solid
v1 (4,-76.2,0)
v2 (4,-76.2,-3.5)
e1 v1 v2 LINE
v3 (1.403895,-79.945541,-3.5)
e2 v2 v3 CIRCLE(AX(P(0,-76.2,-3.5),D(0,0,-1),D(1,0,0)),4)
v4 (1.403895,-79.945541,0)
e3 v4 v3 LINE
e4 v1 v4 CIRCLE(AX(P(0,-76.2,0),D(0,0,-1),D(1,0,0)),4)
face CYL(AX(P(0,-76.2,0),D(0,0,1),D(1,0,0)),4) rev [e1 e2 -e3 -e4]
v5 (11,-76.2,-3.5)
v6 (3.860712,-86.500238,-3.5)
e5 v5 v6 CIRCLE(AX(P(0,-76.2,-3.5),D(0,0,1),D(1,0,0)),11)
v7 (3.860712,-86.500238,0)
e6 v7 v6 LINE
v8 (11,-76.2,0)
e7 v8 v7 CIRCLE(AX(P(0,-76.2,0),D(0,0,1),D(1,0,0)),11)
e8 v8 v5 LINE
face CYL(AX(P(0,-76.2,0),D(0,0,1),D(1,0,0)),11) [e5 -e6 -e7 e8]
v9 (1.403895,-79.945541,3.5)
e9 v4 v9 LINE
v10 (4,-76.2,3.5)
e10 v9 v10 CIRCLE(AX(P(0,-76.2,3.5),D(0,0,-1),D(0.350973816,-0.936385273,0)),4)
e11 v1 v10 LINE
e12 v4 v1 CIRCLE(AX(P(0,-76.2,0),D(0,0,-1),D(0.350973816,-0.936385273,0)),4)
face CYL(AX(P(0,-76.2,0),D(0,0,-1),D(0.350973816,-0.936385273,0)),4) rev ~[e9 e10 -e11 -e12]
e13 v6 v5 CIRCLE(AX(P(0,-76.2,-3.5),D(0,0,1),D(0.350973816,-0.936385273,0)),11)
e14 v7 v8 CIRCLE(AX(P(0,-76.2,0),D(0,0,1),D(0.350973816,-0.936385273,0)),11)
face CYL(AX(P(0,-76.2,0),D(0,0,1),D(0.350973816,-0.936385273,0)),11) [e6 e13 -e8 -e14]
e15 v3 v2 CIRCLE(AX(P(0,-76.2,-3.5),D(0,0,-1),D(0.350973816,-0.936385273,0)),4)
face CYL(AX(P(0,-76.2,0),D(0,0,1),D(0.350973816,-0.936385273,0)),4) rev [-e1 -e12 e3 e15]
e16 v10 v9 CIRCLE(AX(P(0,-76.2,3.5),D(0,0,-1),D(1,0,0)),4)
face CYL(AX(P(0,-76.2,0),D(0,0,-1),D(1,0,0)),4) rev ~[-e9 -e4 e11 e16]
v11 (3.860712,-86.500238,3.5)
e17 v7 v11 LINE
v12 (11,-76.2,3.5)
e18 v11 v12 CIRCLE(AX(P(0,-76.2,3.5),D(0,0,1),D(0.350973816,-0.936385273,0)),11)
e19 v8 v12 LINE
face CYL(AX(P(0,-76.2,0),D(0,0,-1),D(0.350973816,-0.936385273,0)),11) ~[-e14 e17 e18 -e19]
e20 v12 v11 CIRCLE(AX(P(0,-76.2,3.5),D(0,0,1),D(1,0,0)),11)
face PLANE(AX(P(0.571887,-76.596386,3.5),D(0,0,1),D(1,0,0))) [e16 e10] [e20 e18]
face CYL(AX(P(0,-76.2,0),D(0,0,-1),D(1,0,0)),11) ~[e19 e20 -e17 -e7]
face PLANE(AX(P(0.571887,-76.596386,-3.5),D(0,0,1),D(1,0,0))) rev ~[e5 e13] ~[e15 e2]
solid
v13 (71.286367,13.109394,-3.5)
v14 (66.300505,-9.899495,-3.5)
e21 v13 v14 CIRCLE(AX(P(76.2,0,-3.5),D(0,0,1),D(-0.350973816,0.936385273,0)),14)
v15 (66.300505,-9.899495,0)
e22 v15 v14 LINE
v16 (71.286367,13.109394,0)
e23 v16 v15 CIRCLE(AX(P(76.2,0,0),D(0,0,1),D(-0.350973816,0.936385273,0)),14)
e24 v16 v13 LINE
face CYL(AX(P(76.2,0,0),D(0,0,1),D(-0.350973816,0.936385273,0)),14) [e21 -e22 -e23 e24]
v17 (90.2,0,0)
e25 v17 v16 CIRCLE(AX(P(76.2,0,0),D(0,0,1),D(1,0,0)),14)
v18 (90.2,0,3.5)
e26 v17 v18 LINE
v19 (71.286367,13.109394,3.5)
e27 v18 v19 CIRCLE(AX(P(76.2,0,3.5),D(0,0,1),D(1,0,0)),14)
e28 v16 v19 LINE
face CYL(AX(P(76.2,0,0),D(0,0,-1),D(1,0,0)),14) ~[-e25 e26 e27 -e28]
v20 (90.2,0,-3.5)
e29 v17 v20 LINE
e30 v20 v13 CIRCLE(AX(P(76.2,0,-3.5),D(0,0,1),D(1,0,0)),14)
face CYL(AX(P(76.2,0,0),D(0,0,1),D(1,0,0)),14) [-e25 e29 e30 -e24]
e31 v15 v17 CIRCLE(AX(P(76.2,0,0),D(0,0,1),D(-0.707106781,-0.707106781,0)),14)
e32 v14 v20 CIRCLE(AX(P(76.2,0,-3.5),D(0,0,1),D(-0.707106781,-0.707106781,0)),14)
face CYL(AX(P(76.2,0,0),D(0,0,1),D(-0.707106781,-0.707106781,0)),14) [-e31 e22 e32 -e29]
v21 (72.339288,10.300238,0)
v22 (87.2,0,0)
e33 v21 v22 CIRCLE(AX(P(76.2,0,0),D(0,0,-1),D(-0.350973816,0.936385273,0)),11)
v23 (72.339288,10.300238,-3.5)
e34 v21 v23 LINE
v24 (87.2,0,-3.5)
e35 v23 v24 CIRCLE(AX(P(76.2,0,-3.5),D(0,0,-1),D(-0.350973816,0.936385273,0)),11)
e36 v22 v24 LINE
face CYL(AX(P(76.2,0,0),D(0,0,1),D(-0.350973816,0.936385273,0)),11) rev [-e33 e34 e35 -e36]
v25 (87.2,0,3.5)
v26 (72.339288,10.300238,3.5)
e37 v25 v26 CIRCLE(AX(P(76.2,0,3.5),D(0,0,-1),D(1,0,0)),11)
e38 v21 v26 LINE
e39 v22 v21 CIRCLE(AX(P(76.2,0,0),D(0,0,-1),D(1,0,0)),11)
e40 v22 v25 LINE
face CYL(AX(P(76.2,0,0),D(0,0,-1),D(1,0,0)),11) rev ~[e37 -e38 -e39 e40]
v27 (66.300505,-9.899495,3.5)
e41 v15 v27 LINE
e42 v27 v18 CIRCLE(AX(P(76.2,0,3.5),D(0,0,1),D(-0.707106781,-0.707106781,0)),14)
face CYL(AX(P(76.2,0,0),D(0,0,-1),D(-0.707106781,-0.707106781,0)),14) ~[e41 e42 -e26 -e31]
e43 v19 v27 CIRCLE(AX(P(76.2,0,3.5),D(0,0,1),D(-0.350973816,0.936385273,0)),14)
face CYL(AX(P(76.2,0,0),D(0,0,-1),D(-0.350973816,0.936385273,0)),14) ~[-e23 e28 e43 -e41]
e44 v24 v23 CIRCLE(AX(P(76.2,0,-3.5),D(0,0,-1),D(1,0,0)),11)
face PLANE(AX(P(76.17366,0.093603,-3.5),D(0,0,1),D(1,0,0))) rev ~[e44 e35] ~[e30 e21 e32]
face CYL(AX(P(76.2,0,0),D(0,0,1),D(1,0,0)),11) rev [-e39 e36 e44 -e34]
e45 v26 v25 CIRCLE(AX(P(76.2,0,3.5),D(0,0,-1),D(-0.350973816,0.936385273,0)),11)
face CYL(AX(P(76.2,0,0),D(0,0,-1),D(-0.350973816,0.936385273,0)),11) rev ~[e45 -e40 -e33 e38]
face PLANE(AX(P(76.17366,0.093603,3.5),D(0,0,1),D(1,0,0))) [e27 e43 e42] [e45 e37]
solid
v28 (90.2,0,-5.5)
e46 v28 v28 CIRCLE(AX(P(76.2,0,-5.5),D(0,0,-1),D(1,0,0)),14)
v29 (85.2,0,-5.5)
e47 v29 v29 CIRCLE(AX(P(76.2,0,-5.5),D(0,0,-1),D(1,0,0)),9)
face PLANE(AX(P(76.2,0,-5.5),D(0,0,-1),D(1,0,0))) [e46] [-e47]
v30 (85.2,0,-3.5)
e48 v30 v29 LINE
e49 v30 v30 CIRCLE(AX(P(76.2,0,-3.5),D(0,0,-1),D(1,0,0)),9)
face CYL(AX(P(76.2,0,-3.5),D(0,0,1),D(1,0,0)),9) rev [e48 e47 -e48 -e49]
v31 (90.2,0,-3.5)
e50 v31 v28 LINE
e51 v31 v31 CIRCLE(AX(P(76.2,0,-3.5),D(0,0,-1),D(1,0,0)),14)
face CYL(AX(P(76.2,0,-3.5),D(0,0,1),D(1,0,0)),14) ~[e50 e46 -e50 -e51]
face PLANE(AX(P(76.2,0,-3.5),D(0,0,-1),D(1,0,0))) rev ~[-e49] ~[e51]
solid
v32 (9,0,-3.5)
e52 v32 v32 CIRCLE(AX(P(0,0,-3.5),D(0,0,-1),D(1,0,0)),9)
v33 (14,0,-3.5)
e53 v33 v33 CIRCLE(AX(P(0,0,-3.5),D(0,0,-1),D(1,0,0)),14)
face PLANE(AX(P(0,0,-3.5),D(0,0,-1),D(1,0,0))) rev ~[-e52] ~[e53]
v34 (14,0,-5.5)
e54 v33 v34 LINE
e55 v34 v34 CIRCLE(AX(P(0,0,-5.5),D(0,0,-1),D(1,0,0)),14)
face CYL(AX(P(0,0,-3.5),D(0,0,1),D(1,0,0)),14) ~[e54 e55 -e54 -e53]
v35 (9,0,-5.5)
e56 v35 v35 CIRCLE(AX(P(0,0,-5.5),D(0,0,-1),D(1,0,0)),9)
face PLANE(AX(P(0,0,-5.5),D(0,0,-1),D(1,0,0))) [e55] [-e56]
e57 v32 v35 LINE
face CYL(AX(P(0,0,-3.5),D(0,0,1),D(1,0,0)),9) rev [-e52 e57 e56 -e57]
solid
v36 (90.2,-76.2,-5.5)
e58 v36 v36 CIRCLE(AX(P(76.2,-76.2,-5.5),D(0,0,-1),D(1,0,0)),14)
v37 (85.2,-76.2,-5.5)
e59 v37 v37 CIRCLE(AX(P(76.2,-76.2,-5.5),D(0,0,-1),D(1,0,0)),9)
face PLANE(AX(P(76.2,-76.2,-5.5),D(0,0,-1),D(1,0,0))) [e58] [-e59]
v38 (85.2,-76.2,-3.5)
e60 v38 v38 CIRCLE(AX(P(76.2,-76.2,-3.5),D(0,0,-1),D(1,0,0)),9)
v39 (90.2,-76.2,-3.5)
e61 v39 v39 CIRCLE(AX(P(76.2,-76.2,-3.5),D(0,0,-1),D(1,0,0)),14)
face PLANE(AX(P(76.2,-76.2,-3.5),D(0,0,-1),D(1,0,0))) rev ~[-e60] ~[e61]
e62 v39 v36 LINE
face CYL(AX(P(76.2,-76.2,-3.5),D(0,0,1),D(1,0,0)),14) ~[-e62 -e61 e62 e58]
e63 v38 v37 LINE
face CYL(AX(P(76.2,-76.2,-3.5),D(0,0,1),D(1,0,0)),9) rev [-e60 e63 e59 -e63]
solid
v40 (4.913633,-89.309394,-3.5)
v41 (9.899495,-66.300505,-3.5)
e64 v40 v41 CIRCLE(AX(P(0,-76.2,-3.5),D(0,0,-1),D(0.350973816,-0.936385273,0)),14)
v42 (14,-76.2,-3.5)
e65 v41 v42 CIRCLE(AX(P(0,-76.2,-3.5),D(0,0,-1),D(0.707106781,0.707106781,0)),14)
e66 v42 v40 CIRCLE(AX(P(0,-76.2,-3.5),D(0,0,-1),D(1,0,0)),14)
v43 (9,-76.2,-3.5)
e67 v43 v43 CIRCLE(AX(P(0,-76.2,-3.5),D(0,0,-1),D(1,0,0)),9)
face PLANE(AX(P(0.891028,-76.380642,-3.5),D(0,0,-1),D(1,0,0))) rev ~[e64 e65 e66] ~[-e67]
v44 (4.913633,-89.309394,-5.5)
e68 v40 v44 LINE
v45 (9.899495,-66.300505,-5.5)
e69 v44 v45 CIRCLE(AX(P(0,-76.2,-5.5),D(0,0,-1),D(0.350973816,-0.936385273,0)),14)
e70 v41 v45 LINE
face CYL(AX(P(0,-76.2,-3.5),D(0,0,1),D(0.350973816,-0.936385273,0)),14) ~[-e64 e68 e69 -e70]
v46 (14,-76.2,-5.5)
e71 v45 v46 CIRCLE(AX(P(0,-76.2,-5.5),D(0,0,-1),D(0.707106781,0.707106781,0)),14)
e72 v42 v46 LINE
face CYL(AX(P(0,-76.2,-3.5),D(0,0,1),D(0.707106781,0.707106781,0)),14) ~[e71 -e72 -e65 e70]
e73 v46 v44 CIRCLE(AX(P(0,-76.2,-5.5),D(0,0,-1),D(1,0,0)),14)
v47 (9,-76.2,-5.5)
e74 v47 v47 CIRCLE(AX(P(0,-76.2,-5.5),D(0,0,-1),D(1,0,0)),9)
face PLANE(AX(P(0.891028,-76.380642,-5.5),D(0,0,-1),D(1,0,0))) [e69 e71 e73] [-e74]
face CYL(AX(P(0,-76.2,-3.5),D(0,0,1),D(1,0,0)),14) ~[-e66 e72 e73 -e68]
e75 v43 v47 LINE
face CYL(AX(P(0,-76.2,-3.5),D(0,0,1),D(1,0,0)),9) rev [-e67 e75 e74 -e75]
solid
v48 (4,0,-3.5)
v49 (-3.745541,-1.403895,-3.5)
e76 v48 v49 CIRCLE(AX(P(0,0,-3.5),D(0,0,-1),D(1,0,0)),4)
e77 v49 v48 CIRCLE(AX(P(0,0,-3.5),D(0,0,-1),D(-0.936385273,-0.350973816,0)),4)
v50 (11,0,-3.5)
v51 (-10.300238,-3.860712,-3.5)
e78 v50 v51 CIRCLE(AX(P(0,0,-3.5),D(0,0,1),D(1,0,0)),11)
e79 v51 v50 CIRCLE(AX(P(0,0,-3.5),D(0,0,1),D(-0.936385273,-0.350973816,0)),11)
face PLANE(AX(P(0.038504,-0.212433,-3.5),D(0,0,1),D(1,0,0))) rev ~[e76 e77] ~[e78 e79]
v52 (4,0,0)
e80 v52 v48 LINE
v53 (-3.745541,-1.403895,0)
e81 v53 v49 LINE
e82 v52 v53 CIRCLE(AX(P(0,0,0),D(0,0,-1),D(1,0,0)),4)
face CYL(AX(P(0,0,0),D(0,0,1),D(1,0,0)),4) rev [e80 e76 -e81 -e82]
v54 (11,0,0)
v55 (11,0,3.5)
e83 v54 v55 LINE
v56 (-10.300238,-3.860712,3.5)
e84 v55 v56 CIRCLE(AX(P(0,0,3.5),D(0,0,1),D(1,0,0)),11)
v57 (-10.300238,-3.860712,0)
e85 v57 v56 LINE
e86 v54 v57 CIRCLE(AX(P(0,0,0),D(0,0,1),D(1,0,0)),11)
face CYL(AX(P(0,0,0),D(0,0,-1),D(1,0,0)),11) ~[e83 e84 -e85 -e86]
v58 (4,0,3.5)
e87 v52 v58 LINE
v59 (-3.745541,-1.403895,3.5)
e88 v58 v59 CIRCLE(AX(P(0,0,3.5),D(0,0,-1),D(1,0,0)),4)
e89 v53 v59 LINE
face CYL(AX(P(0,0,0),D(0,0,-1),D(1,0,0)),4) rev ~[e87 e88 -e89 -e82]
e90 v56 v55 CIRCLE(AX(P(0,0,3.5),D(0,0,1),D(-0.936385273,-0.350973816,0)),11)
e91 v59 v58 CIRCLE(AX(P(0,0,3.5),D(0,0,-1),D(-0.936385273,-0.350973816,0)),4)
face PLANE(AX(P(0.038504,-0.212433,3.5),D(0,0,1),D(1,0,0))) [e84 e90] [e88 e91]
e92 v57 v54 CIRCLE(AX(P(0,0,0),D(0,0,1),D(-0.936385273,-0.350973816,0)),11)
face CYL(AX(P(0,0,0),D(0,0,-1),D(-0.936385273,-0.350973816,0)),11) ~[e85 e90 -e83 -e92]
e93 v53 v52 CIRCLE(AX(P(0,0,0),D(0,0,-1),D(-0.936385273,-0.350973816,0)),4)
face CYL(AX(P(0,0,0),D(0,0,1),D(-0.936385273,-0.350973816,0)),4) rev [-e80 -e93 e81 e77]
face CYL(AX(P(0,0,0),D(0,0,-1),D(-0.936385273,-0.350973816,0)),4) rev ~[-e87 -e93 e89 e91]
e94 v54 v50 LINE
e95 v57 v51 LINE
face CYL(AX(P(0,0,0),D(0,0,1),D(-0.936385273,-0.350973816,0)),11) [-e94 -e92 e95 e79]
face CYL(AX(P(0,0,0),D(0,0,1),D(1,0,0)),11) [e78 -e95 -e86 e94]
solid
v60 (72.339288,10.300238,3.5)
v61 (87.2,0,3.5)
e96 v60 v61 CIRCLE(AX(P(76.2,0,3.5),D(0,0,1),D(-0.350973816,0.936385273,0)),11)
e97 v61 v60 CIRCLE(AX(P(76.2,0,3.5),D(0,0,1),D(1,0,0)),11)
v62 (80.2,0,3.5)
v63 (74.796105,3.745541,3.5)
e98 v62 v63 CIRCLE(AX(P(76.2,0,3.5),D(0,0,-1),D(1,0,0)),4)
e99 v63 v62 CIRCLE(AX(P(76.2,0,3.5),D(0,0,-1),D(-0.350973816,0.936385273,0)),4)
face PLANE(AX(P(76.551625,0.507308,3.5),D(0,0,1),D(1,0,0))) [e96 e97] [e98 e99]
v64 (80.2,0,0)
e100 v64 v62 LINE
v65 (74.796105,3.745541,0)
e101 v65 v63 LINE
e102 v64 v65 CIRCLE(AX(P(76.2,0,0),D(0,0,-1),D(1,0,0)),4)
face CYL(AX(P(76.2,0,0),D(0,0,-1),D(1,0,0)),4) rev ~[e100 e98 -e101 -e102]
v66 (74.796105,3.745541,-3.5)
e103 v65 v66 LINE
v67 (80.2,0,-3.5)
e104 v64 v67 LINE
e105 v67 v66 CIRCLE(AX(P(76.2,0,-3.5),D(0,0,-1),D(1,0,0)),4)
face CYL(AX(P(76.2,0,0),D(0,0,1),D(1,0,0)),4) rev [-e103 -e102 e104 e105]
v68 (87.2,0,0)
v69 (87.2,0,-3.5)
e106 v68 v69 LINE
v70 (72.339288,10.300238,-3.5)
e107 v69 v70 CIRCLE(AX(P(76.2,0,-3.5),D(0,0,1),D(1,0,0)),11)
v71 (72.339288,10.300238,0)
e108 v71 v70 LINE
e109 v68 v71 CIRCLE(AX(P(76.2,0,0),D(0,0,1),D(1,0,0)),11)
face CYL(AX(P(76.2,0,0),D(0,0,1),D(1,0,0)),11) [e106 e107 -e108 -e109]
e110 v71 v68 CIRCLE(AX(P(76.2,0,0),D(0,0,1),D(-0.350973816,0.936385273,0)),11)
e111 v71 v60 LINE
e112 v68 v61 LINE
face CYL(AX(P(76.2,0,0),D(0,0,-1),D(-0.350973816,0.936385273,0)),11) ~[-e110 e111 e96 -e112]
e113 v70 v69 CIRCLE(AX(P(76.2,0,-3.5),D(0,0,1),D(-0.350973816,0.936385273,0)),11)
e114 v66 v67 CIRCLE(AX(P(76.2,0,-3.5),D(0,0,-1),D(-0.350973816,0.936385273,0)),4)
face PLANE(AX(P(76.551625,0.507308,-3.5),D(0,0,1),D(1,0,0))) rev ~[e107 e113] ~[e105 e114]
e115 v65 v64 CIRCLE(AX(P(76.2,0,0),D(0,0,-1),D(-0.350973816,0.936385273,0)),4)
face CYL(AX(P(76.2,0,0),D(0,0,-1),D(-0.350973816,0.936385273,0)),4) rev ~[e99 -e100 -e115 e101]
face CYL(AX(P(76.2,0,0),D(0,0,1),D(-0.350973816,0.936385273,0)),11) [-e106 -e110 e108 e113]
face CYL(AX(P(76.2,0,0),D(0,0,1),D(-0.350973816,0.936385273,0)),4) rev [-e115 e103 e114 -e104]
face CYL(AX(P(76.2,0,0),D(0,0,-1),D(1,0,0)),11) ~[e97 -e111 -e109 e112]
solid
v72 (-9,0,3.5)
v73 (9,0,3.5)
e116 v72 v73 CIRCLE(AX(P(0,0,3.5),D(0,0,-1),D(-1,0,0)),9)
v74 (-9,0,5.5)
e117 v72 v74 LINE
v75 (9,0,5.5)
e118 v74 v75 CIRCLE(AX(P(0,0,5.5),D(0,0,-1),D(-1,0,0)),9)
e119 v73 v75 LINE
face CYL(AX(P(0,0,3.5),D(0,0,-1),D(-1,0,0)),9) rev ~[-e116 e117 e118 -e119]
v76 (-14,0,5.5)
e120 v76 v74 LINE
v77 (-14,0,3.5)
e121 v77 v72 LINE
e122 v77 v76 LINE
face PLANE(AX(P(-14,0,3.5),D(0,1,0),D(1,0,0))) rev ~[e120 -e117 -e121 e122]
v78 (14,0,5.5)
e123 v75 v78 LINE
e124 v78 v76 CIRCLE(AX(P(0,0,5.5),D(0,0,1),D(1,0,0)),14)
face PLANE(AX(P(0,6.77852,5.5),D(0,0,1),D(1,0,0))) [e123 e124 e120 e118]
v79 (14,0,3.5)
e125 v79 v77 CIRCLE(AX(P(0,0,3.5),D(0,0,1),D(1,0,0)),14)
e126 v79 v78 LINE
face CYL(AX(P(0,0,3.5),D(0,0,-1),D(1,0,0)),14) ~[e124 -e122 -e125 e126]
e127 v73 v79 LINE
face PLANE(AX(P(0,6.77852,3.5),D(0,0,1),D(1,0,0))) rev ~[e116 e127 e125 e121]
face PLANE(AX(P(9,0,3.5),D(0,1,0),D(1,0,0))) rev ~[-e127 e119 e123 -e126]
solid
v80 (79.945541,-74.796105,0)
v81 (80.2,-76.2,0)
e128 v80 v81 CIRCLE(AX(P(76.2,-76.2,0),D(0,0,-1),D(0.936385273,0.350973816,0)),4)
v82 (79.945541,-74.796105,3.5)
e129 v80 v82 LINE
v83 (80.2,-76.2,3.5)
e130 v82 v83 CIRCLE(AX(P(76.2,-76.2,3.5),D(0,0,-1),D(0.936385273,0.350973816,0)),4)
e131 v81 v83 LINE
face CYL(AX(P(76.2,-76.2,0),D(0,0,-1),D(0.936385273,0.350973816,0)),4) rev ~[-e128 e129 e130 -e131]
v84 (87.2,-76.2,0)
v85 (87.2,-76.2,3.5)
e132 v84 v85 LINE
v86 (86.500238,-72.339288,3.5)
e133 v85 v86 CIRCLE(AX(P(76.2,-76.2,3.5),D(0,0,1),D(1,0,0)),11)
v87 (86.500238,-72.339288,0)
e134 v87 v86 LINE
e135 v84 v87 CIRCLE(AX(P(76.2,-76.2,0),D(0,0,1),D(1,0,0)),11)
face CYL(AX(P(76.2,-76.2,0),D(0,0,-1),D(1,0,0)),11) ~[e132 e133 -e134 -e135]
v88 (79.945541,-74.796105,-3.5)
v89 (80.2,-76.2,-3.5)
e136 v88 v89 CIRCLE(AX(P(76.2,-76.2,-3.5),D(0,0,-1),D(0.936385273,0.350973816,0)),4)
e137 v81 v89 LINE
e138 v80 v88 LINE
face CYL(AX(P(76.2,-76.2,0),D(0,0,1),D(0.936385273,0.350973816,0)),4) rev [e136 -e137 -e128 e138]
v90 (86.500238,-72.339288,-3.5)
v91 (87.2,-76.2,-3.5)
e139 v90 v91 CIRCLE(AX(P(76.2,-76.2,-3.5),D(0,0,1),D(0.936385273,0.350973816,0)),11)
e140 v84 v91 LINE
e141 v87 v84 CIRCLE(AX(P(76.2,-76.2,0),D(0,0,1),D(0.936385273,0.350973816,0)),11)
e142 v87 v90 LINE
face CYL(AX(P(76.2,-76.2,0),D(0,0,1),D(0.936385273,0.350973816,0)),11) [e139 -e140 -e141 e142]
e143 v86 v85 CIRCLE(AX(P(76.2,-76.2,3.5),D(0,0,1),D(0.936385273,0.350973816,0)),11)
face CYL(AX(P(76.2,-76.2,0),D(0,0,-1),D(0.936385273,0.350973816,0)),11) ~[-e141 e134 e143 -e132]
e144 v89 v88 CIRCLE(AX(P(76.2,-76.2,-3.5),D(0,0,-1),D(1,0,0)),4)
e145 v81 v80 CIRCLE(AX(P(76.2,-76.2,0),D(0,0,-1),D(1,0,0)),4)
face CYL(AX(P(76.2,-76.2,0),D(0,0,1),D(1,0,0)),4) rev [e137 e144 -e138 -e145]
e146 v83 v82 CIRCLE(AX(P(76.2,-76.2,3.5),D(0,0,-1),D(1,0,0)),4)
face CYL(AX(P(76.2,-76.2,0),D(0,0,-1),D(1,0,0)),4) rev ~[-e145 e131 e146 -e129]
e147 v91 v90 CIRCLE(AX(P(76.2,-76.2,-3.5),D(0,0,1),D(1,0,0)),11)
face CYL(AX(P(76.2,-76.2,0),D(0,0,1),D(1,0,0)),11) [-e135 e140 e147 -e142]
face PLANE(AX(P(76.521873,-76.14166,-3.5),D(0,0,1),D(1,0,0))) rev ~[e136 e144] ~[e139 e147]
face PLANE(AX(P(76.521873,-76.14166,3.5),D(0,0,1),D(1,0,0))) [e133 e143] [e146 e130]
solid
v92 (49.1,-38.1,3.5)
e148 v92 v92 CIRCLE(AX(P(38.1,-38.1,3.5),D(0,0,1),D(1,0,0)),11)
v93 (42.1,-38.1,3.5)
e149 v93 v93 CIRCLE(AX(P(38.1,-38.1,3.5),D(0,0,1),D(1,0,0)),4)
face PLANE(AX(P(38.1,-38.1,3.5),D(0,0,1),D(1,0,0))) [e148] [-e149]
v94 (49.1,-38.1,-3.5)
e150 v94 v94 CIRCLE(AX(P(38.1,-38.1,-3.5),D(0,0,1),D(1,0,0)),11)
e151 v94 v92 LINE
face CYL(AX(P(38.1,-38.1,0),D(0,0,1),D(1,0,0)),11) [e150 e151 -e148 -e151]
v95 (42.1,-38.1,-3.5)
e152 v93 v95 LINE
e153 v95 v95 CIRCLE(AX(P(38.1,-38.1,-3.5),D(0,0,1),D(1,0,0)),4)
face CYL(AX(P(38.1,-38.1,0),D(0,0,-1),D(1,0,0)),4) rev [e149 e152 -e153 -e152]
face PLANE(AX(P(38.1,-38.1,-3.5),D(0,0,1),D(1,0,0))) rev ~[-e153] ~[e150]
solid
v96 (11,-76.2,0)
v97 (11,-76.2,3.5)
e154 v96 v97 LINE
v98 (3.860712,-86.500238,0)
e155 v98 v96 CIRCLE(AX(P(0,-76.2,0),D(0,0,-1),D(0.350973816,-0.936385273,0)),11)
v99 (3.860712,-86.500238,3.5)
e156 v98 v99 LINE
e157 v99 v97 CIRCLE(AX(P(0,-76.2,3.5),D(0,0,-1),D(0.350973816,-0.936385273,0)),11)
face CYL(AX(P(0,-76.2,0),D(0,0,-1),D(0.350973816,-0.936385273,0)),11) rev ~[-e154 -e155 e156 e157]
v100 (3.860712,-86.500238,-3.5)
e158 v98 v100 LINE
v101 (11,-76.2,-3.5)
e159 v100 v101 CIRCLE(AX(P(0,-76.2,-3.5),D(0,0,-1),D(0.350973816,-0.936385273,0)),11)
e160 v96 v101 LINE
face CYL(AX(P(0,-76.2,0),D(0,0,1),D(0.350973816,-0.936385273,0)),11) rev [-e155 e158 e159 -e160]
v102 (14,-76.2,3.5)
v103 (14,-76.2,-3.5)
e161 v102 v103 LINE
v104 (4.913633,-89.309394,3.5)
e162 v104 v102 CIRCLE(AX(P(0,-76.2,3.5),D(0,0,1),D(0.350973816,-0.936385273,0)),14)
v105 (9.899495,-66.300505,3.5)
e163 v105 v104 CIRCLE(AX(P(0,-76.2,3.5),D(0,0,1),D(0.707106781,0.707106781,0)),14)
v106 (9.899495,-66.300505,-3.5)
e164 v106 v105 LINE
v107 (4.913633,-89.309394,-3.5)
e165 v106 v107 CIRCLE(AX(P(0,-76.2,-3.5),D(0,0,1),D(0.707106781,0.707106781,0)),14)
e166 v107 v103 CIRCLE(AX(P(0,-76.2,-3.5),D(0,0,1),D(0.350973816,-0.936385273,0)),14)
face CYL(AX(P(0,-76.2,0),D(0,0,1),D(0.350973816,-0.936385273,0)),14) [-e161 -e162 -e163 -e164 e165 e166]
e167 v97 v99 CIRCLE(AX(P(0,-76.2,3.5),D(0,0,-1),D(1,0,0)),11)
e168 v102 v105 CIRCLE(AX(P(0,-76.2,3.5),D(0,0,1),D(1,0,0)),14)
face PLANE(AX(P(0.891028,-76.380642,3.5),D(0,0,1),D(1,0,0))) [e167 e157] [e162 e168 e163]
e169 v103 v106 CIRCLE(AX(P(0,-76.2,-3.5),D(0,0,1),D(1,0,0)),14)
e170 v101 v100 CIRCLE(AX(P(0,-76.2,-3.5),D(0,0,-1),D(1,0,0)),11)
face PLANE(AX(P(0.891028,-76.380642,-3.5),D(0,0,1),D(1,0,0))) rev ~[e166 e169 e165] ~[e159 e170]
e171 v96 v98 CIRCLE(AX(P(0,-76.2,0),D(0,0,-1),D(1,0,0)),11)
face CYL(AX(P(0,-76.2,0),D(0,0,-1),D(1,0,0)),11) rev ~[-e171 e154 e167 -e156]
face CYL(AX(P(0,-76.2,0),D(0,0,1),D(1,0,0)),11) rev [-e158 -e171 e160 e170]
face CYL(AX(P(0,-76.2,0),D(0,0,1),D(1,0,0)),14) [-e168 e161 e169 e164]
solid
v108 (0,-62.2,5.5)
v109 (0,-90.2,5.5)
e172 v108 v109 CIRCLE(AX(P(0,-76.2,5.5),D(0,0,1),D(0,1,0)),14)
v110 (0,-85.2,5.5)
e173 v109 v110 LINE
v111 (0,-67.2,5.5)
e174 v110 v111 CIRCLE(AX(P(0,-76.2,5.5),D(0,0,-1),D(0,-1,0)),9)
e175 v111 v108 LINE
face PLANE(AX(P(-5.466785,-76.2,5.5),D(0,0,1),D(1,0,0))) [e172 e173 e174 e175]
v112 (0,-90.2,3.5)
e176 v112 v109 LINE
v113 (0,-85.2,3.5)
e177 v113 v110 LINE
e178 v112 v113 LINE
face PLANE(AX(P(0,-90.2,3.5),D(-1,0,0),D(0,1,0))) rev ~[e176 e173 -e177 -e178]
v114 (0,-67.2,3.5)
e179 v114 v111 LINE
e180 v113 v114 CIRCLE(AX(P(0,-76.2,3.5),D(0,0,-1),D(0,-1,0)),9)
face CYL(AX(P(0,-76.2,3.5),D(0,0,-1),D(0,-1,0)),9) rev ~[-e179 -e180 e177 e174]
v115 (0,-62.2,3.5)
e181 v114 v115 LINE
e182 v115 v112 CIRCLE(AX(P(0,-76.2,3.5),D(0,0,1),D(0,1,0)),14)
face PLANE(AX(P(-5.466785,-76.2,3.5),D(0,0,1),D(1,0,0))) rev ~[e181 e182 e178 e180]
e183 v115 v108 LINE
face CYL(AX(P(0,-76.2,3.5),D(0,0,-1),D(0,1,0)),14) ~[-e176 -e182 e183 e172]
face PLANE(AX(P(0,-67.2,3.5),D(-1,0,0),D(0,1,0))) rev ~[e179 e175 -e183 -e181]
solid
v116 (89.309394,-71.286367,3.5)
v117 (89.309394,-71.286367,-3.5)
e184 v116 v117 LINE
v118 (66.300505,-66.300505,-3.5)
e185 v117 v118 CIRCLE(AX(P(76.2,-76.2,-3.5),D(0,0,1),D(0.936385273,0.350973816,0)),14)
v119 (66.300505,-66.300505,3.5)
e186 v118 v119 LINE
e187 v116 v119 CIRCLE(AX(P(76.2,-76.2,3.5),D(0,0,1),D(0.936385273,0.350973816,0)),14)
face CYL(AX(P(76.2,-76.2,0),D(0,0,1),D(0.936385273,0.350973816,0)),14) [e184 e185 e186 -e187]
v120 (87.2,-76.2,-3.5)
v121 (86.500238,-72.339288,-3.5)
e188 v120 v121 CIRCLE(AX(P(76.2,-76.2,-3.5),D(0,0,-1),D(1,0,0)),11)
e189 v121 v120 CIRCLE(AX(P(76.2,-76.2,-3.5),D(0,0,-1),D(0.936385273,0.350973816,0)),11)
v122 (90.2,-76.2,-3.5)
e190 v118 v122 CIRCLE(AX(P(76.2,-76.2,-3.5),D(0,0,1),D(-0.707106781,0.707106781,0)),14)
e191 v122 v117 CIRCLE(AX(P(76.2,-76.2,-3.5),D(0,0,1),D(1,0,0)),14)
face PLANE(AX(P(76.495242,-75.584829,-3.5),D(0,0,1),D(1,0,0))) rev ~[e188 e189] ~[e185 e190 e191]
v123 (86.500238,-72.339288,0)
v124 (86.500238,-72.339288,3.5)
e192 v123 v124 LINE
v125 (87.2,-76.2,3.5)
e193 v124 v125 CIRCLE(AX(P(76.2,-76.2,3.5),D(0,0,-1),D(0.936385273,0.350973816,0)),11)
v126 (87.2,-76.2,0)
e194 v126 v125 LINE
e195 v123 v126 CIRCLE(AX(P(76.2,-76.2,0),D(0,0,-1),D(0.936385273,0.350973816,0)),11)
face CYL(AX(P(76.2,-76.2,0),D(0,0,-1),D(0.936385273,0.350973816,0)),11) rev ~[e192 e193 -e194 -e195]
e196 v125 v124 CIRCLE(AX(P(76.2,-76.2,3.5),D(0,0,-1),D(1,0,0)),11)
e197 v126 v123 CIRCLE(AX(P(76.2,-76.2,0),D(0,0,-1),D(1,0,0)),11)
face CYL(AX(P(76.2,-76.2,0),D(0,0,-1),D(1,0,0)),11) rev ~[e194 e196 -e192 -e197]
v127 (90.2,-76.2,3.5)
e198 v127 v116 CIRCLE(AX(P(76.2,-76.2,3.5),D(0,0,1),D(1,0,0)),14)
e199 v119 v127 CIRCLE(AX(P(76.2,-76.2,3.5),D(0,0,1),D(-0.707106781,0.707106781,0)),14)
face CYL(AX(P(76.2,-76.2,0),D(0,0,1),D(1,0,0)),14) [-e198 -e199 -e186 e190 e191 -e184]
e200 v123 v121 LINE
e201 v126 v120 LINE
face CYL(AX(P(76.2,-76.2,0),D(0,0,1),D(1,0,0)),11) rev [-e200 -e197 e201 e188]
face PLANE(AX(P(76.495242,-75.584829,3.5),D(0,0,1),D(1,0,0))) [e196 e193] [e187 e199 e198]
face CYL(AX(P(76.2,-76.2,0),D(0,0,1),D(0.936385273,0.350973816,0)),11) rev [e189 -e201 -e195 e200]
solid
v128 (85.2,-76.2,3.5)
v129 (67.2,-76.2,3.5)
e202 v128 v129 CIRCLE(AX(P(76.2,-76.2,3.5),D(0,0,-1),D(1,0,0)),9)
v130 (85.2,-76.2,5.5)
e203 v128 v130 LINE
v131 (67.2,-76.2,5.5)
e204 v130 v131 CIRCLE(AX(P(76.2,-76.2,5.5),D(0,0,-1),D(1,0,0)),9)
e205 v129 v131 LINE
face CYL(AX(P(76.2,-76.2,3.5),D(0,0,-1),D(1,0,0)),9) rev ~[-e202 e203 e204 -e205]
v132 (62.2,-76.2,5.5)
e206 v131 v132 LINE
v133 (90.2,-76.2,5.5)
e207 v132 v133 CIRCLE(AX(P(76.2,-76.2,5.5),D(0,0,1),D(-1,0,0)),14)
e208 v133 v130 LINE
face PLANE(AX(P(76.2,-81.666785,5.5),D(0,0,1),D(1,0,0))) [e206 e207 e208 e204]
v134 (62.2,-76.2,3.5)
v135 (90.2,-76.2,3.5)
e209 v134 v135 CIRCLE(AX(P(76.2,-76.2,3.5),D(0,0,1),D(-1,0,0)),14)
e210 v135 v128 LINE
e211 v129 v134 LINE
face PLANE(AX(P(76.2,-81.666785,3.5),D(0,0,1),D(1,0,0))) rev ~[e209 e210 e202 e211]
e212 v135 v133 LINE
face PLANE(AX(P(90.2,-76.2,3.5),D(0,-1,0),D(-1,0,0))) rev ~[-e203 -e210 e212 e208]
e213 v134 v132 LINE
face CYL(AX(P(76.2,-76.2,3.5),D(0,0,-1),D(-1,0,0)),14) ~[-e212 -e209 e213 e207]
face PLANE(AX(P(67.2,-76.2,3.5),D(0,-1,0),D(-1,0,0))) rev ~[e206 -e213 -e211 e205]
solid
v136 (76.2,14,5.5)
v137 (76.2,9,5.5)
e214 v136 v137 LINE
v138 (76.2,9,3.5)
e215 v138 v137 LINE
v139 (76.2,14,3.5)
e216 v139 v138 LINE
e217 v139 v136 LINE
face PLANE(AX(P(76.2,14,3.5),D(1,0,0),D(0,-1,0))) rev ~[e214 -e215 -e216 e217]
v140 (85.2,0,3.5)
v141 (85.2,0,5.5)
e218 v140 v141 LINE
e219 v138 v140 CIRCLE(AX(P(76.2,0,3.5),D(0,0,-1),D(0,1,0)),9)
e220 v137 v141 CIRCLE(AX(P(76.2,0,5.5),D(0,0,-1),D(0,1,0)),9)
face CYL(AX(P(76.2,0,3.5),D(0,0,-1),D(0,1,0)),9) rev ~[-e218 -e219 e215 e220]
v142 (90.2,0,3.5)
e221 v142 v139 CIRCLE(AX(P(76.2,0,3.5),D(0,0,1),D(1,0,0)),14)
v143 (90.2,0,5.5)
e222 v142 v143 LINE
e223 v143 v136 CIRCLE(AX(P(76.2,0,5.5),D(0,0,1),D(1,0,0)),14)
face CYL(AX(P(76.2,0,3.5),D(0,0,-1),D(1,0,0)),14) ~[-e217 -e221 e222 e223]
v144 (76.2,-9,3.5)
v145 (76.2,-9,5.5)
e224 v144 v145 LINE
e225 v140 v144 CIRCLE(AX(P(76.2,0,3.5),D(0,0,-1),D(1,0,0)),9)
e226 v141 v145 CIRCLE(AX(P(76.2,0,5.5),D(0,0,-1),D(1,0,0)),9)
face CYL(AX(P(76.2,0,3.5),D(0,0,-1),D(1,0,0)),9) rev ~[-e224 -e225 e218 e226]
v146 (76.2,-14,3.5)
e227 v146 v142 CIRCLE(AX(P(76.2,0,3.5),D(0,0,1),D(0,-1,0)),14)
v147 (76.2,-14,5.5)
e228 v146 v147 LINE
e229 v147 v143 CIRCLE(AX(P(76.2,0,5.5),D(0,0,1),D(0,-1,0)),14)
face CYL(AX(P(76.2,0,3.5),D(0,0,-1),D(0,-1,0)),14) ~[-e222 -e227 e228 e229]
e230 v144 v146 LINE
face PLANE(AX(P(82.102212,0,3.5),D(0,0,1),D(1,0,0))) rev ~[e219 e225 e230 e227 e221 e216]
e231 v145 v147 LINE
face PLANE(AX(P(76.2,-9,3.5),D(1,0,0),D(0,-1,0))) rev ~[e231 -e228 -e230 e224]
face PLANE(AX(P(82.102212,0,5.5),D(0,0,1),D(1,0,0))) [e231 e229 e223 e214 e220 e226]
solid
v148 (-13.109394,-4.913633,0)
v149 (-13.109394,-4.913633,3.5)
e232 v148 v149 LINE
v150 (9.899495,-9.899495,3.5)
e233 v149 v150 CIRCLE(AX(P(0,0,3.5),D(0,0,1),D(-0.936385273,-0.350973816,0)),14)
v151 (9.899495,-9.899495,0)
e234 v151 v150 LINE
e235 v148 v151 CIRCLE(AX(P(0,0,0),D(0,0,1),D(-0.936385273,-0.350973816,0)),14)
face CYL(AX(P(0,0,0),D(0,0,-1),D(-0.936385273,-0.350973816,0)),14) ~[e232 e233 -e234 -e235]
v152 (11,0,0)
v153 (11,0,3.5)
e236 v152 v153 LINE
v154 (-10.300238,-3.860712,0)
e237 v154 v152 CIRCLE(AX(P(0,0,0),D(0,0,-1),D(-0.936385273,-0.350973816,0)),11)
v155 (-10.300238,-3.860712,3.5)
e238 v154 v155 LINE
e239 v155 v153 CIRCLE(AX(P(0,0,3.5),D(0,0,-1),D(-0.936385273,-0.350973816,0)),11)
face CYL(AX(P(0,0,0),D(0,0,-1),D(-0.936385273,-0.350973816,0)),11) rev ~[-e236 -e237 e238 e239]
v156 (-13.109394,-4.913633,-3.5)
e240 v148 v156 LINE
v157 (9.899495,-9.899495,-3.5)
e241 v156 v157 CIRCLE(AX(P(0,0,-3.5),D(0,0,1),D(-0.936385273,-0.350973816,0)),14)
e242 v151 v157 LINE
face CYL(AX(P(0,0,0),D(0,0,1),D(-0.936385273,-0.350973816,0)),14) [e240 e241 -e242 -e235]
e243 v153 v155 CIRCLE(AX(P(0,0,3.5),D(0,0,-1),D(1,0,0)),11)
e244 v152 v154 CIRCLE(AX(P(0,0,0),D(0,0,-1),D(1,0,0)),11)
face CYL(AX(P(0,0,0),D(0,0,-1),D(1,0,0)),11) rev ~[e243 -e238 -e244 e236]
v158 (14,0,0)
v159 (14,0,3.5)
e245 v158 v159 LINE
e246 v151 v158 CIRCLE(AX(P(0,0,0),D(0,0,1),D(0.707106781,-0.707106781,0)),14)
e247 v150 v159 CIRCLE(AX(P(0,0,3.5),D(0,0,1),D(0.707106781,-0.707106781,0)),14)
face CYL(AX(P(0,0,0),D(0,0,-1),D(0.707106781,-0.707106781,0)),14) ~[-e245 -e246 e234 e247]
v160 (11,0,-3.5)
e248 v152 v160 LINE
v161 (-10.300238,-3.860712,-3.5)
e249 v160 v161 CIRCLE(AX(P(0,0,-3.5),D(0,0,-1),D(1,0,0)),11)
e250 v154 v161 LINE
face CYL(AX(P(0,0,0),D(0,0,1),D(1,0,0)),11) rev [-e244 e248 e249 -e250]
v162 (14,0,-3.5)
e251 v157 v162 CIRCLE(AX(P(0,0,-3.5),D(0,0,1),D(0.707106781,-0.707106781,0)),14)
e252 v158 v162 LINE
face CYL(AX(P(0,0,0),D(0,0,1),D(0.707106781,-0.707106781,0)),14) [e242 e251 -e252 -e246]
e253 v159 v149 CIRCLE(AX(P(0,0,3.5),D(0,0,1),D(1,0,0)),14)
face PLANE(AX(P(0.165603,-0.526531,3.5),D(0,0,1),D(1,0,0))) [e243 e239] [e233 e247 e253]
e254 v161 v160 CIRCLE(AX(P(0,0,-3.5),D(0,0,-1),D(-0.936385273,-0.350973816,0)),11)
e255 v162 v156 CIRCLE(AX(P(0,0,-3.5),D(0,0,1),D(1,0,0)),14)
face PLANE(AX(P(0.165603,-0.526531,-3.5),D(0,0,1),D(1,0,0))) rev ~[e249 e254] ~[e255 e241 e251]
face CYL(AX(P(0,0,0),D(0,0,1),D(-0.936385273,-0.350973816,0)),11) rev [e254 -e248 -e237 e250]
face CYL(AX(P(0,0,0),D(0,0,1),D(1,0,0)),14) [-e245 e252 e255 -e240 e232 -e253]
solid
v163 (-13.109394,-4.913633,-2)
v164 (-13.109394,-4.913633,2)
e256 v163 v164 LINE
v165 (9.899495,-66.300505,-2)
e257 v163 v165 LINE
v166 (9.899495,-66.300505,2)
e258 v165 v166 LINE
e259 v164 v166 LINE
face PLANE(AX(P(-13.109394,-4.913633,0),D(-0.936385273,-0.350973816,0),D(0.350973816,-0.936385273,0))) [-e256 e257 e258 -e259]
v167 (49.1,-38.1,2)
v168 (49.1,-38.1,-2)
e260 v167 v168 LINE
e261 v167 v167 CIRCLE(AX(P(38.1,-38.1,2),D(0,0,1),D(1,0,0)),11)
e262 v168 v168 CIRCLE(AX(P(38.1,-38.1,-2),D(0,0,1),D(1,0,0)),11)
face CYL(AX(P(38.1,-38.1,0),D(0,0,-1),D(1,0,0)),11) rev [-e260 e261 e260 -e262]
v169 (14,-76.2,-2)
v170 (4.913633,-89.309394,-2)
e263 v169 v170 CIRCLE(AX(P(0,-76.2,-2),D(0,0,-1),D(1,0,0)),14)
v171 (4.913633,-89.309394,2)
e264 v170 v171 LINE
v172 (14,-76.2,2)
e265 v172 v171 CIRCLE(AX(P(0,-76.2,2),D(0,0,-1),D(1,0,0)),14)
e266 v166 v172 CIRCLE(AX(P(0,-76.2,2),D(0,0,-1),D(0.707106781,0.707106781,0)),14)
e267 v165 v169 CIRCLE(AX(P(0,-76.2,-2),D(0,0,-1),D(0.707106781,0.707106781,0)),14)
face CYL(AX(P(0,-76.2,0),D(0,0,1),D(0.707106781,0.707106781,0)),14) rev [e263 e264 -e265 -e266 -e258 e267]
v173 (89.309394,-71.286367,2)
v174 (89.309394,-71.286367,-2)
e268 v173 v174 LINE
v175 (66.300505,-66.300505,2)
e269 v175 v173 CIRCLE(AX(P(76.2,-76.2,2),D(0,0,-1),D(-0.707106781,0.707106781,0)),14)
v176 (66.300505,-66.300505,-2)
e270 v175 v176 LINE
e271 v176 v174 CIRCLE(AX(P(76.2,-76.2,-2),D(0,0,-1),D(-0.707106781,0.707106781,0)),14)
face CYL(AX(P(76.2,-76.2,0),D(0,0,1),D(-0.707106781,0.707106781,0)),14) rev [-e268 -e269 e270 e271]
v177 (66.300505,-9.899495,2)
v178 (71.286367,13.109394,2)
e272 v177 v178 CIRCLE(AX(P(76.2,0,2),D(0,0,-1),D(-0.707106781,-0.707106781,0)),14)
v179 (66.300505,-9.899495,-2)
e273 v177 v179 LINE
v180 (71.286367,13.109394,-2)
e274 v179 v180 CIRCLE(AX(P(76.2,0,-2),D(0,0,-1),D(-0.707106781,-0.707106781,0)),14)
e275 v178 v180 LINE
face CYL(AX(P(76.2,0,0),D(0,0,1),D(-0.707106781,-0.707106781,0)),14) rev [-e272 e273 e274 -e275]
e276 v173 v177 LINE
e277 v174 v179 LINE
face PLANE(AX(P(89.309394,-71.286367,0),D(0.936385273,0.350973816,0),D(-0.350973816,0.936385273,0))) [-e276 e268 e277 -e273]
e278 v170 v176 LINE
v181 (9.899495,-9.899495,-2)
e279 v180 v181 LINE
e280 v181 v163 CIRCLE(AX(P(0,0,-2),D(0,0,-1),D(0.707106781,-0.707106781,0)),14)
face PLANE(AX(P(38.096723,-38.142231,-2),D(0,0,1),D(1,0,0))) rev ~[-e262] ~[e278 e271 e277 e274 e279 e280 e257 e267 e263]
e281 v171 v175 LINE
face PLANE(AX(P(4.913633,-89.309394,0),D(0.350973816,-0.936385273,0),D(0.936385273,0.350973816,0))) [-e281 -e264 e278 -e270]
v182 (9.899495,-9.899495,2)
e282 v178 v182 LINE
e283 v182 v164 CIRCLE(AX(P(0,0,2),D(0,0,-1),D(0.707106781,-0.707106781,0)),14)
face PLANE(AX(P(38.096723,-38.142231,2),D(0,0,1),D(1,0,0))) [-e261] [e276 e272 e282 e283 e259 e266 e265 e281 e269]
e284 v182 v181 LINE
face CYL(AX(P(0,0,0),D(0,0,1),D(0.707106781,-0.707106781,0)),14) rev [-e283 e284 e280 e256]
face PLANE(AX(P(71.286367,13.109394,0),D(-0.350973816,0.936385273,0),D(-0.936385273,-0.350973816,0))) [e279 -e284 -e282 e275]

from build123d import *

# Parameters (mm, degrees)
F1_DEPTH = 3.5
F0_R     = 11
F0_R_2   = 4
F2_DEPTH = 2
F3_DEPTH = 3.5
F5_DEPTH = 2
F6_R     = 9
F7_DEPTH = 2
F6_R_2   = 14


with BuildPart() as f1:
    # F0 (on Top) → F1 (new body, symmetric)
    with BuildSketch(Plane.XY):
        with BuildLine():
            ThreePointArc((-10.3002380083, -3.8607119774), (1.961808083, -10.8236458296), (11, 0))
            ThreePointArc((11, 0), (-1.961808083, 10.8236458296), (-10.3002380083, -3.8607119774))
        make_face()
        with BuildLine():
            ThreePointArc((4, 0), (0.7133847574, -3.9358712108), (-3.7455410939, -1.4038952645))
            ThreePointArc((-3.7455410939, -1.4038952645), (-0.7133847574, 3.9358712108), (4, 0))
        make_face(mode=Mode.SUBTRACT)
    extrude(amount=F1_DEPTH, both=True)


with BuildPart() as f1b:
    # F0 (on Top) → F1, piece 2 (new body, symmetric)
    with BuildSketch(Plane.XY):
        with BuildLine():
            ThreePointArc((87.2, 0), (82.4662655644, 9.0406811622), (72.3392880226, 10.3002380083))
            ThreePointArc((72.3392880226, 10.3002380083), (69.9337344356, -9.0406811622), (87.2, 0))
        make_face()
        with BuildLine():
            ThreePointArc((80.2, 0), (73.9213579766, -3.2875204226), (74.7961047355, 3.7455410939))
            ThreePointArc((74.7961047355, 3.7455410939), (78.4786420234, 3.2875204226), (80.2, 0))
        make_face(mode=Mode.SUBTRACT)
    extrude(amount=F1_DEPTH, both=True)


with BuildPart() as f1c:
    # F0 (on Top) → F1, piece 3 (new body, symmetric)
    with BuildSketch(Plane.XY):
        with Locations((38.1, -38.1)):
            Circle(F0_R)
        with Locations((38.1, -38.1)):
            Circle(F0_R_2, mode=Mode.SUBTRACT)
    extrude(amount=F1_DEPTH, both=True)


with BuildPart() as f1d:
    # F0 (on Top) → F1, piece 4 (new body, symmetric)
    with BuildSketch(Plane.XY):
        with BuildLine():
            ThreePointArc((87.2, -76.2), (87.0236458296, -74.238191917), (86.5002380083, -72.3392880226))
            ThreePointArc((86.5002380083, -72.3392880226), (65.3763541704, -78.161808083), (87.2, -76.2))
        make_face()
        with BuildLine():
            ThreePointArc((80.2, -76.2), (72.2641287892, -76.9133847574), (79.9455410939, -74.7961047355))
            ThreePointArc((79.9455410939, -74.7961047355), (80.1358712108, -75.4866152426), (80.2, -76.2))
        make_face(mode=Mode.SUBTRACT)
    extrude(amount=F1_DEPTH, both=True)


with BuildPart() as f1e:
    # F0 (on Top) → F1, piece 5 (new body, symmetric)
    with BuildSketch(Plane.XY):
        with BuildLine():
            ThreePointArc((11, -76.2), (-9.0406811622, -69.9337344356), (3.8607119774, -86.5002380083))
            ThreePointArc((3.8607119774, -86.5002380083), (9.0406811622, -82.4662655644), (11, -76.2))
        make_face()
        with BuildLine():
            ThreePointArc((4, -76.2), (3.2875204226, -78.4786420234), (1.4038952645, -79.9455410939))
            ThreePointArc((1.4038952645, -79.9455410939), (-3.2875204226, -73.9213579766), (4, -76.2))
        make_face(mode=Mode.SUBTRACT)
    extrude(amount=F1_DEPTH, both=True)


with BuildPart() as f2:
    # F0 (on Top) → F2 (new body, symmetric)
    with BuildSketch(Plane.XY):
        with BuildLine():
            ThreePointArc((9.8994949366, -9.8994949366), (-2.9648889483, -13.6824498364), (-13.1093938287, -4.9136334258))
            Line((-13.1093938287, -4.9136334258), (9.8994949366, -66.3005050634))
            ThreePointArc((9.8994949366, -66.3005050634), (12.9343134552, -70.8424319469), (14, -76.2))
            ThreePointArc((14, -76.2), (11.5063214791, -84.175247082), (4.9136334258, -89.3093938287))
            Line((4.9136334258, -89.3093938287), (66.3005050634, -66.3005050634))
            ThreePointArc((66.3005050634, -66.3005050634), (79.1648889483, -62.5175501636), (89.3093938287, -71.2863665742))
            Line((89.3093938287, -71.2863665742), (66.3005050634, -9.8994949366))
            ThreePointArc((66.3005050634, -9.8994949366), (62.5175501636, 2.9648889483), (71.2863665742, 13.1093938287))
            Line((71.2863665742, 13.1093938287), (9.8994949366, -9.8994949366))
        make_face()
        with Locations((38.1, -38.1)):
            Circle(F0_R, mode=Mode.SUBTRACT)
    extrude(amount=F2_DEPTH, both=True)


with BuildPart() as f3:
    # F0 (on Top) → F3 (new body, symmetric)
    with BuildSketch(Plane.XY):
        with BuildLine():
            ThreePointArc((14, -76.2), (12.9343134552, -70.8424319469), (9.8994949366, -66.3005050634))
            ThreePointArc((9.8994949366, -66.3005050634), (-13.6824498364, -73.2351110517), (4.9136334258, -89.3093938287))
            ThreePointArc((4.9136334258, -89.3093938287), (11.5063214791, -84.175247082), (14, -76.2))
        make_face()
        with BuildLine():
            ThreePointArc((11, -76.2), (9.0406811622, -82.4662655644), (3.8607119774, -86.5002380083))
            ThreePointArc((3.8607119774, -86.5002380083), (-9.0406811622, -69.9337344356), (11, -76.2))
        make_face(mode=Mode.SUBTRACT)
    extrude(amount=F3_DEPTH, both=True)


with BuildPart() as f3b:
    # F0 (on Top) → F3, piece 2 (new body, symmetric)
    with BuildSketch(Plane.XY):
        with BuildLine():
            ThreePointArc((89.3093938287, -71.2863665742), (79.1648889483, -62.5175501636), (66.3005050634, -66.3005050634))
            ThreePointArc((66.3005050634, -66.3005050634), (70.8424319469, -89.1343134552), (90.2, -76.2))
            ThreePointArc((90.2, -76.2), (89.9755492377, -73.7031533489), (89.3093938287, -71.2863665742))
        make_face()
        with BuildLine():
            ThreePointArc((87.2, -76.2), (65.3763541704, -78.161808083), (86.5002380083, -72.3392880226))
            ThreePointArc((86.5002380083, -72.3392880226), (87.0236458296, -74.238191917), (87.2, -76.2))
        make_face(mode=Mode.SUBTRACT)
    extrude(amount=F3_DEPTH, both=True)


with BuildPart() as f3c:
    # F0 (on Top) → F3, piece 3 (new body, symmetric)
    with BuildSketch(Plane.XY):
        with BuildLine():
            ThreePointArc((90.2, 0), (84.175247082, 11.5063214791), (71.2863665742, 13.1093938287))
            ThreePointArc((71.2863665742, 13.1093938287), (62.5175501636, 2.9648889483), (66.3005050634, -9.8994949366))
            ThreePointArc((66.3005050634, -9.8994949366), (81.5575680531, -12.9343134552), (90.2, 0))
        make_face()
        with BuildLine():
            ThreePointArc((87.2, 0), (69.9337344356, -9.0406811622), (72.3392880226, 10.3002380083))
            ThreePointArc((72.3392880226, 10.3002380083), (82.4662655644, 9.0406811622), (87.2, 0))
        make_face(mode=Mode.SUBTRACT)
    extrude(amount=F3_DEPTH, both=True)


with BuildPart() as f3d:
    # F0 (on Top) → F3, piece 4 (new body, symmetric)
    with BuildSketch(Plane.XY):
        with BuildLine():
            ThreePointArc((14, 0), (-2.4968466511, 13.7755492377), (-13.1093938287, -4.9136334258))
            ThreePointArc((-13.1093938287, -4.9136334258), (-2.9648889483, -13.6824498364), (9.8994949366, -9.8994949366))
            ThreePointArc((9.8994949366, -9.8994949366), (12.9343134552, -5.3575680531), (14, 0))
        make_face()
        with BuildLine():
            ThreePointArc((-10.3002380083, -3.8607119774), (-1.961808083, 10.8236458296), (11, 0))
            ThreePointArc((11, 0), (1.961808083, -10.8236458296), (-10.3002380083, -3.8607119774))
        make_face(mode=Mode.SUBTRACT)
    extrude(amount=F3_DEPTH, both=True)


with BuildPart() as f5:
    # F4 (on face) → F5 (new body)
    with BuildSketch(Plane.XY.offset(3.5)):
        with BuildLine():
            Line((11, 0), (14, 0))
            ThreePointArc((14, 0), (0, 14), (-14, 0))
            Line((-14, 0), (-11, 0))
            ThreePointArc((-11, 0), (0, 11), (11, 0))
        make_face()
        with BuildLine():
            Line((9, 0), (11, 0))
            ThreePointArc((11, 0), (0, 11), (-11, 0))
            Line((-11, 0), (-9, 0))
            ThreePointArc((-9, 0), (0, 9), (9, 0))
        make_face()
    extrude(amount=F5_DEPTH)


with BuildPart() as f5b:
    # F4 (on face) → F5, piece 2 (new body)
    with BuildSketch(Plane.XY.offset(3.5)):
        with BuildLine():
            ThreePointArc((87.2, 0), (83.9781745931, 7.7781745931), (76.2, 11))
            Line((76.2, 11), (76.2, 9))
            ThreePointArc((76.2, 9), (82.5639610307, 6.3639610307), (85.2, 0))
            ThreePointArc((85.2, 0), (82.5639610307, -6.3639610307), (76.2, -9))
            Line((76.2, -9), (76.2, -11))
            ThreePointArc((76.2, -11), (83.9781745931, -7.7781745931), (87.2, 0))
        make_face()
        with BuildLine():
            ThreePointArc((76.2, -14), (86.0994949366, -9.8994949366), (90.2, 0))
            ThreePointArc((90.2, 0), (86.0994949366, 9.8994949366), (76.2, 14))
            Line((76.2, 14), (76.2, 11))
            ThreePointArc((76.2, 11), (83.9781745931, 7.7781745931), (87.2, 0))
            ThreePointArc((87.2, 0), (83.9781745931, -7.7781745931), (76.2, -11))
            Line((76.2, -11), (76.2, -14))
        make_face()
    extrude(amount=F5_DEPTH)


with BuildPart() as f5c:
    # F4 (on face) → F5, piece 3 (new body)
    with BuildSketch(Plane.XY.offset(3.5)):
        with BuildLine():
            ThreePointArc((65.2, -76.2), (76.2, -87.2), (87.2, -76.2))
            Line((87.2, -76.2), (85.2, -76.2))
            ThreePointArc((85.2, -76.2), (76.2, -85.2), (67.2, -76.2))
            Line((67.2, -76.2), (65.2, -76.2))
        make_face()
        with BuildLine():
            ThreePointArc((62.2, -76.2), (76.2, -90.2), (90.2, -76.2))
            Line((90.2, -76.2), (87.2, -76.2))
            ThreePointArc((87.2, -76.2), (76.2, -87.2), (65.2, -76.2))
            Line((65.2, -76.2), (62.2, -76.2))
        make_face()
    extrude(amount=F5_DEPTH)


with BuildPart() as f5d:
    # F4 (on face) → F5, piece 4 (new body)
    with BuildSketch(Plane.XY.offset(3.5)):
        with BuildLine():
            Line((0, -67.2), (0, -65.2))
            ThreePointArc((0, -65.2), (-11, -76.2), (0, -87.2))
            Line((0, -87.2), (0, -85.2))
            ThreePointArc((0, -85.2), (-9, -76.2), (0, -67.2))
        make_face()
        with BuildLine():
            Line((0, -65.2), (0, -62.2))
            ThreePointArc((0, -62.2), (-14, -76.2), (0, -90.2))
            Line((0, -90.2), (0, -87.2))
            ThreePointArc((0, -87.2), (-11, -76.2), (0, -65.2))
        make_face()
    extrude(amount=F5_DEPTH)


with BuildPart() as f7:
    # F6 (on face) → F7 (new body)
    with BuildSketch(Plane(origin=(0, 0, -3.5), x_dir=(1, 0, 0), z_dir=(0, 0, -1))):
        with BuildLine():
            ThreePointArc((9.8994949366, 66.3005050634), (12.9343134552, 70.8424319469), (14, 76.2))
            ThreePointArc((14, 76.2), (11.5063214791, 84.175247082), (4.9136334258, 89.3093938287))
            ThreePointArc((4.9136334258, 89.3093938287), (-13.6824498364, 73.2351110517), (9.8994949366, 66.3005050634))
        make_face()
        with BuildLine():
            ThreePointArc((3.8607119774, 86.5002380083), (9.0406811622, 82.4662655644), (11, 76.2))
            ThreePointArc((11, 76.2), (-9.0406811622, 69.9337344356), (3.8607119774, 86.5002380083))
        make_face(mode=Mode.SUBTRACT)
        with BuildLine():
            ThreePointArc((3.8607119774, 86.5002380083), (-9.0406811622, 69.9337344356), (11, 76.2))
            ThreePointArc((11, 76.2), (9.0406811622, 82.4662655644), (3.8607119774, 86.5002380083))
        make_face()
        with Locations((0, 76.2)):
            Circle(F6_R, mode=Mode.SUBTRACT)
    extrude(amount=F7_DEPTH)


with BuildPart() as f7b:
    # F6 (on face) → F7, piece 2 (new body)
    with BuildSketch(Plane(origin=(0, 0, -3.5), x_dir=(1, 0, 0), z_dir=(0, 0, -1))):
        with Locations((76.2, 76.2)):
            Circle(F6_R_2)
        with Locations((76.2, 76.2)):
            Circle(F6_R, mode=Mode.SUBTRACT)
    extrude(amount=F7_DEPTH)


with BuildPart() as f7c:
    # F6 (on face) → F7, piece 3 (new body)
    with BuildSketch(Plane(origin=(0, 0, -3.5), x_dir=(1, 0, 0), z_dir=(0, 0, -1))):
        with Locations((76.2, 0)):
            Circle(F6_R_2)
        with Locations((76.2, 0)):
            Circle(F6_R, mode=Mode.SUBTRACT)
    extrude(amount=F7_DEPTH)


with BuildPart() as f7d:
    # F6 (on face) → F7, piece 4 (new body)
    with BuildSketch(Plane(origin=(0, 0, -3.5), x_dir=(1, 0, 0), z_dir=(0, 0, -1))):
        Circle(F6_R_2)
        Circle(F6_R, mode=Mode.SUBTRACT)
    extrude(amount=F7_DEPTH)


solid = Compound([f1.part, f1b.part, f1c.part, f1d.part, f1e.part, f2.part, f3.part, f3b.part, f3c.part, f3d.part, f5.part, f5b.part, f5c.part, f5d.part, f7.part, f7b.part, f7c.part, f7d.part])
